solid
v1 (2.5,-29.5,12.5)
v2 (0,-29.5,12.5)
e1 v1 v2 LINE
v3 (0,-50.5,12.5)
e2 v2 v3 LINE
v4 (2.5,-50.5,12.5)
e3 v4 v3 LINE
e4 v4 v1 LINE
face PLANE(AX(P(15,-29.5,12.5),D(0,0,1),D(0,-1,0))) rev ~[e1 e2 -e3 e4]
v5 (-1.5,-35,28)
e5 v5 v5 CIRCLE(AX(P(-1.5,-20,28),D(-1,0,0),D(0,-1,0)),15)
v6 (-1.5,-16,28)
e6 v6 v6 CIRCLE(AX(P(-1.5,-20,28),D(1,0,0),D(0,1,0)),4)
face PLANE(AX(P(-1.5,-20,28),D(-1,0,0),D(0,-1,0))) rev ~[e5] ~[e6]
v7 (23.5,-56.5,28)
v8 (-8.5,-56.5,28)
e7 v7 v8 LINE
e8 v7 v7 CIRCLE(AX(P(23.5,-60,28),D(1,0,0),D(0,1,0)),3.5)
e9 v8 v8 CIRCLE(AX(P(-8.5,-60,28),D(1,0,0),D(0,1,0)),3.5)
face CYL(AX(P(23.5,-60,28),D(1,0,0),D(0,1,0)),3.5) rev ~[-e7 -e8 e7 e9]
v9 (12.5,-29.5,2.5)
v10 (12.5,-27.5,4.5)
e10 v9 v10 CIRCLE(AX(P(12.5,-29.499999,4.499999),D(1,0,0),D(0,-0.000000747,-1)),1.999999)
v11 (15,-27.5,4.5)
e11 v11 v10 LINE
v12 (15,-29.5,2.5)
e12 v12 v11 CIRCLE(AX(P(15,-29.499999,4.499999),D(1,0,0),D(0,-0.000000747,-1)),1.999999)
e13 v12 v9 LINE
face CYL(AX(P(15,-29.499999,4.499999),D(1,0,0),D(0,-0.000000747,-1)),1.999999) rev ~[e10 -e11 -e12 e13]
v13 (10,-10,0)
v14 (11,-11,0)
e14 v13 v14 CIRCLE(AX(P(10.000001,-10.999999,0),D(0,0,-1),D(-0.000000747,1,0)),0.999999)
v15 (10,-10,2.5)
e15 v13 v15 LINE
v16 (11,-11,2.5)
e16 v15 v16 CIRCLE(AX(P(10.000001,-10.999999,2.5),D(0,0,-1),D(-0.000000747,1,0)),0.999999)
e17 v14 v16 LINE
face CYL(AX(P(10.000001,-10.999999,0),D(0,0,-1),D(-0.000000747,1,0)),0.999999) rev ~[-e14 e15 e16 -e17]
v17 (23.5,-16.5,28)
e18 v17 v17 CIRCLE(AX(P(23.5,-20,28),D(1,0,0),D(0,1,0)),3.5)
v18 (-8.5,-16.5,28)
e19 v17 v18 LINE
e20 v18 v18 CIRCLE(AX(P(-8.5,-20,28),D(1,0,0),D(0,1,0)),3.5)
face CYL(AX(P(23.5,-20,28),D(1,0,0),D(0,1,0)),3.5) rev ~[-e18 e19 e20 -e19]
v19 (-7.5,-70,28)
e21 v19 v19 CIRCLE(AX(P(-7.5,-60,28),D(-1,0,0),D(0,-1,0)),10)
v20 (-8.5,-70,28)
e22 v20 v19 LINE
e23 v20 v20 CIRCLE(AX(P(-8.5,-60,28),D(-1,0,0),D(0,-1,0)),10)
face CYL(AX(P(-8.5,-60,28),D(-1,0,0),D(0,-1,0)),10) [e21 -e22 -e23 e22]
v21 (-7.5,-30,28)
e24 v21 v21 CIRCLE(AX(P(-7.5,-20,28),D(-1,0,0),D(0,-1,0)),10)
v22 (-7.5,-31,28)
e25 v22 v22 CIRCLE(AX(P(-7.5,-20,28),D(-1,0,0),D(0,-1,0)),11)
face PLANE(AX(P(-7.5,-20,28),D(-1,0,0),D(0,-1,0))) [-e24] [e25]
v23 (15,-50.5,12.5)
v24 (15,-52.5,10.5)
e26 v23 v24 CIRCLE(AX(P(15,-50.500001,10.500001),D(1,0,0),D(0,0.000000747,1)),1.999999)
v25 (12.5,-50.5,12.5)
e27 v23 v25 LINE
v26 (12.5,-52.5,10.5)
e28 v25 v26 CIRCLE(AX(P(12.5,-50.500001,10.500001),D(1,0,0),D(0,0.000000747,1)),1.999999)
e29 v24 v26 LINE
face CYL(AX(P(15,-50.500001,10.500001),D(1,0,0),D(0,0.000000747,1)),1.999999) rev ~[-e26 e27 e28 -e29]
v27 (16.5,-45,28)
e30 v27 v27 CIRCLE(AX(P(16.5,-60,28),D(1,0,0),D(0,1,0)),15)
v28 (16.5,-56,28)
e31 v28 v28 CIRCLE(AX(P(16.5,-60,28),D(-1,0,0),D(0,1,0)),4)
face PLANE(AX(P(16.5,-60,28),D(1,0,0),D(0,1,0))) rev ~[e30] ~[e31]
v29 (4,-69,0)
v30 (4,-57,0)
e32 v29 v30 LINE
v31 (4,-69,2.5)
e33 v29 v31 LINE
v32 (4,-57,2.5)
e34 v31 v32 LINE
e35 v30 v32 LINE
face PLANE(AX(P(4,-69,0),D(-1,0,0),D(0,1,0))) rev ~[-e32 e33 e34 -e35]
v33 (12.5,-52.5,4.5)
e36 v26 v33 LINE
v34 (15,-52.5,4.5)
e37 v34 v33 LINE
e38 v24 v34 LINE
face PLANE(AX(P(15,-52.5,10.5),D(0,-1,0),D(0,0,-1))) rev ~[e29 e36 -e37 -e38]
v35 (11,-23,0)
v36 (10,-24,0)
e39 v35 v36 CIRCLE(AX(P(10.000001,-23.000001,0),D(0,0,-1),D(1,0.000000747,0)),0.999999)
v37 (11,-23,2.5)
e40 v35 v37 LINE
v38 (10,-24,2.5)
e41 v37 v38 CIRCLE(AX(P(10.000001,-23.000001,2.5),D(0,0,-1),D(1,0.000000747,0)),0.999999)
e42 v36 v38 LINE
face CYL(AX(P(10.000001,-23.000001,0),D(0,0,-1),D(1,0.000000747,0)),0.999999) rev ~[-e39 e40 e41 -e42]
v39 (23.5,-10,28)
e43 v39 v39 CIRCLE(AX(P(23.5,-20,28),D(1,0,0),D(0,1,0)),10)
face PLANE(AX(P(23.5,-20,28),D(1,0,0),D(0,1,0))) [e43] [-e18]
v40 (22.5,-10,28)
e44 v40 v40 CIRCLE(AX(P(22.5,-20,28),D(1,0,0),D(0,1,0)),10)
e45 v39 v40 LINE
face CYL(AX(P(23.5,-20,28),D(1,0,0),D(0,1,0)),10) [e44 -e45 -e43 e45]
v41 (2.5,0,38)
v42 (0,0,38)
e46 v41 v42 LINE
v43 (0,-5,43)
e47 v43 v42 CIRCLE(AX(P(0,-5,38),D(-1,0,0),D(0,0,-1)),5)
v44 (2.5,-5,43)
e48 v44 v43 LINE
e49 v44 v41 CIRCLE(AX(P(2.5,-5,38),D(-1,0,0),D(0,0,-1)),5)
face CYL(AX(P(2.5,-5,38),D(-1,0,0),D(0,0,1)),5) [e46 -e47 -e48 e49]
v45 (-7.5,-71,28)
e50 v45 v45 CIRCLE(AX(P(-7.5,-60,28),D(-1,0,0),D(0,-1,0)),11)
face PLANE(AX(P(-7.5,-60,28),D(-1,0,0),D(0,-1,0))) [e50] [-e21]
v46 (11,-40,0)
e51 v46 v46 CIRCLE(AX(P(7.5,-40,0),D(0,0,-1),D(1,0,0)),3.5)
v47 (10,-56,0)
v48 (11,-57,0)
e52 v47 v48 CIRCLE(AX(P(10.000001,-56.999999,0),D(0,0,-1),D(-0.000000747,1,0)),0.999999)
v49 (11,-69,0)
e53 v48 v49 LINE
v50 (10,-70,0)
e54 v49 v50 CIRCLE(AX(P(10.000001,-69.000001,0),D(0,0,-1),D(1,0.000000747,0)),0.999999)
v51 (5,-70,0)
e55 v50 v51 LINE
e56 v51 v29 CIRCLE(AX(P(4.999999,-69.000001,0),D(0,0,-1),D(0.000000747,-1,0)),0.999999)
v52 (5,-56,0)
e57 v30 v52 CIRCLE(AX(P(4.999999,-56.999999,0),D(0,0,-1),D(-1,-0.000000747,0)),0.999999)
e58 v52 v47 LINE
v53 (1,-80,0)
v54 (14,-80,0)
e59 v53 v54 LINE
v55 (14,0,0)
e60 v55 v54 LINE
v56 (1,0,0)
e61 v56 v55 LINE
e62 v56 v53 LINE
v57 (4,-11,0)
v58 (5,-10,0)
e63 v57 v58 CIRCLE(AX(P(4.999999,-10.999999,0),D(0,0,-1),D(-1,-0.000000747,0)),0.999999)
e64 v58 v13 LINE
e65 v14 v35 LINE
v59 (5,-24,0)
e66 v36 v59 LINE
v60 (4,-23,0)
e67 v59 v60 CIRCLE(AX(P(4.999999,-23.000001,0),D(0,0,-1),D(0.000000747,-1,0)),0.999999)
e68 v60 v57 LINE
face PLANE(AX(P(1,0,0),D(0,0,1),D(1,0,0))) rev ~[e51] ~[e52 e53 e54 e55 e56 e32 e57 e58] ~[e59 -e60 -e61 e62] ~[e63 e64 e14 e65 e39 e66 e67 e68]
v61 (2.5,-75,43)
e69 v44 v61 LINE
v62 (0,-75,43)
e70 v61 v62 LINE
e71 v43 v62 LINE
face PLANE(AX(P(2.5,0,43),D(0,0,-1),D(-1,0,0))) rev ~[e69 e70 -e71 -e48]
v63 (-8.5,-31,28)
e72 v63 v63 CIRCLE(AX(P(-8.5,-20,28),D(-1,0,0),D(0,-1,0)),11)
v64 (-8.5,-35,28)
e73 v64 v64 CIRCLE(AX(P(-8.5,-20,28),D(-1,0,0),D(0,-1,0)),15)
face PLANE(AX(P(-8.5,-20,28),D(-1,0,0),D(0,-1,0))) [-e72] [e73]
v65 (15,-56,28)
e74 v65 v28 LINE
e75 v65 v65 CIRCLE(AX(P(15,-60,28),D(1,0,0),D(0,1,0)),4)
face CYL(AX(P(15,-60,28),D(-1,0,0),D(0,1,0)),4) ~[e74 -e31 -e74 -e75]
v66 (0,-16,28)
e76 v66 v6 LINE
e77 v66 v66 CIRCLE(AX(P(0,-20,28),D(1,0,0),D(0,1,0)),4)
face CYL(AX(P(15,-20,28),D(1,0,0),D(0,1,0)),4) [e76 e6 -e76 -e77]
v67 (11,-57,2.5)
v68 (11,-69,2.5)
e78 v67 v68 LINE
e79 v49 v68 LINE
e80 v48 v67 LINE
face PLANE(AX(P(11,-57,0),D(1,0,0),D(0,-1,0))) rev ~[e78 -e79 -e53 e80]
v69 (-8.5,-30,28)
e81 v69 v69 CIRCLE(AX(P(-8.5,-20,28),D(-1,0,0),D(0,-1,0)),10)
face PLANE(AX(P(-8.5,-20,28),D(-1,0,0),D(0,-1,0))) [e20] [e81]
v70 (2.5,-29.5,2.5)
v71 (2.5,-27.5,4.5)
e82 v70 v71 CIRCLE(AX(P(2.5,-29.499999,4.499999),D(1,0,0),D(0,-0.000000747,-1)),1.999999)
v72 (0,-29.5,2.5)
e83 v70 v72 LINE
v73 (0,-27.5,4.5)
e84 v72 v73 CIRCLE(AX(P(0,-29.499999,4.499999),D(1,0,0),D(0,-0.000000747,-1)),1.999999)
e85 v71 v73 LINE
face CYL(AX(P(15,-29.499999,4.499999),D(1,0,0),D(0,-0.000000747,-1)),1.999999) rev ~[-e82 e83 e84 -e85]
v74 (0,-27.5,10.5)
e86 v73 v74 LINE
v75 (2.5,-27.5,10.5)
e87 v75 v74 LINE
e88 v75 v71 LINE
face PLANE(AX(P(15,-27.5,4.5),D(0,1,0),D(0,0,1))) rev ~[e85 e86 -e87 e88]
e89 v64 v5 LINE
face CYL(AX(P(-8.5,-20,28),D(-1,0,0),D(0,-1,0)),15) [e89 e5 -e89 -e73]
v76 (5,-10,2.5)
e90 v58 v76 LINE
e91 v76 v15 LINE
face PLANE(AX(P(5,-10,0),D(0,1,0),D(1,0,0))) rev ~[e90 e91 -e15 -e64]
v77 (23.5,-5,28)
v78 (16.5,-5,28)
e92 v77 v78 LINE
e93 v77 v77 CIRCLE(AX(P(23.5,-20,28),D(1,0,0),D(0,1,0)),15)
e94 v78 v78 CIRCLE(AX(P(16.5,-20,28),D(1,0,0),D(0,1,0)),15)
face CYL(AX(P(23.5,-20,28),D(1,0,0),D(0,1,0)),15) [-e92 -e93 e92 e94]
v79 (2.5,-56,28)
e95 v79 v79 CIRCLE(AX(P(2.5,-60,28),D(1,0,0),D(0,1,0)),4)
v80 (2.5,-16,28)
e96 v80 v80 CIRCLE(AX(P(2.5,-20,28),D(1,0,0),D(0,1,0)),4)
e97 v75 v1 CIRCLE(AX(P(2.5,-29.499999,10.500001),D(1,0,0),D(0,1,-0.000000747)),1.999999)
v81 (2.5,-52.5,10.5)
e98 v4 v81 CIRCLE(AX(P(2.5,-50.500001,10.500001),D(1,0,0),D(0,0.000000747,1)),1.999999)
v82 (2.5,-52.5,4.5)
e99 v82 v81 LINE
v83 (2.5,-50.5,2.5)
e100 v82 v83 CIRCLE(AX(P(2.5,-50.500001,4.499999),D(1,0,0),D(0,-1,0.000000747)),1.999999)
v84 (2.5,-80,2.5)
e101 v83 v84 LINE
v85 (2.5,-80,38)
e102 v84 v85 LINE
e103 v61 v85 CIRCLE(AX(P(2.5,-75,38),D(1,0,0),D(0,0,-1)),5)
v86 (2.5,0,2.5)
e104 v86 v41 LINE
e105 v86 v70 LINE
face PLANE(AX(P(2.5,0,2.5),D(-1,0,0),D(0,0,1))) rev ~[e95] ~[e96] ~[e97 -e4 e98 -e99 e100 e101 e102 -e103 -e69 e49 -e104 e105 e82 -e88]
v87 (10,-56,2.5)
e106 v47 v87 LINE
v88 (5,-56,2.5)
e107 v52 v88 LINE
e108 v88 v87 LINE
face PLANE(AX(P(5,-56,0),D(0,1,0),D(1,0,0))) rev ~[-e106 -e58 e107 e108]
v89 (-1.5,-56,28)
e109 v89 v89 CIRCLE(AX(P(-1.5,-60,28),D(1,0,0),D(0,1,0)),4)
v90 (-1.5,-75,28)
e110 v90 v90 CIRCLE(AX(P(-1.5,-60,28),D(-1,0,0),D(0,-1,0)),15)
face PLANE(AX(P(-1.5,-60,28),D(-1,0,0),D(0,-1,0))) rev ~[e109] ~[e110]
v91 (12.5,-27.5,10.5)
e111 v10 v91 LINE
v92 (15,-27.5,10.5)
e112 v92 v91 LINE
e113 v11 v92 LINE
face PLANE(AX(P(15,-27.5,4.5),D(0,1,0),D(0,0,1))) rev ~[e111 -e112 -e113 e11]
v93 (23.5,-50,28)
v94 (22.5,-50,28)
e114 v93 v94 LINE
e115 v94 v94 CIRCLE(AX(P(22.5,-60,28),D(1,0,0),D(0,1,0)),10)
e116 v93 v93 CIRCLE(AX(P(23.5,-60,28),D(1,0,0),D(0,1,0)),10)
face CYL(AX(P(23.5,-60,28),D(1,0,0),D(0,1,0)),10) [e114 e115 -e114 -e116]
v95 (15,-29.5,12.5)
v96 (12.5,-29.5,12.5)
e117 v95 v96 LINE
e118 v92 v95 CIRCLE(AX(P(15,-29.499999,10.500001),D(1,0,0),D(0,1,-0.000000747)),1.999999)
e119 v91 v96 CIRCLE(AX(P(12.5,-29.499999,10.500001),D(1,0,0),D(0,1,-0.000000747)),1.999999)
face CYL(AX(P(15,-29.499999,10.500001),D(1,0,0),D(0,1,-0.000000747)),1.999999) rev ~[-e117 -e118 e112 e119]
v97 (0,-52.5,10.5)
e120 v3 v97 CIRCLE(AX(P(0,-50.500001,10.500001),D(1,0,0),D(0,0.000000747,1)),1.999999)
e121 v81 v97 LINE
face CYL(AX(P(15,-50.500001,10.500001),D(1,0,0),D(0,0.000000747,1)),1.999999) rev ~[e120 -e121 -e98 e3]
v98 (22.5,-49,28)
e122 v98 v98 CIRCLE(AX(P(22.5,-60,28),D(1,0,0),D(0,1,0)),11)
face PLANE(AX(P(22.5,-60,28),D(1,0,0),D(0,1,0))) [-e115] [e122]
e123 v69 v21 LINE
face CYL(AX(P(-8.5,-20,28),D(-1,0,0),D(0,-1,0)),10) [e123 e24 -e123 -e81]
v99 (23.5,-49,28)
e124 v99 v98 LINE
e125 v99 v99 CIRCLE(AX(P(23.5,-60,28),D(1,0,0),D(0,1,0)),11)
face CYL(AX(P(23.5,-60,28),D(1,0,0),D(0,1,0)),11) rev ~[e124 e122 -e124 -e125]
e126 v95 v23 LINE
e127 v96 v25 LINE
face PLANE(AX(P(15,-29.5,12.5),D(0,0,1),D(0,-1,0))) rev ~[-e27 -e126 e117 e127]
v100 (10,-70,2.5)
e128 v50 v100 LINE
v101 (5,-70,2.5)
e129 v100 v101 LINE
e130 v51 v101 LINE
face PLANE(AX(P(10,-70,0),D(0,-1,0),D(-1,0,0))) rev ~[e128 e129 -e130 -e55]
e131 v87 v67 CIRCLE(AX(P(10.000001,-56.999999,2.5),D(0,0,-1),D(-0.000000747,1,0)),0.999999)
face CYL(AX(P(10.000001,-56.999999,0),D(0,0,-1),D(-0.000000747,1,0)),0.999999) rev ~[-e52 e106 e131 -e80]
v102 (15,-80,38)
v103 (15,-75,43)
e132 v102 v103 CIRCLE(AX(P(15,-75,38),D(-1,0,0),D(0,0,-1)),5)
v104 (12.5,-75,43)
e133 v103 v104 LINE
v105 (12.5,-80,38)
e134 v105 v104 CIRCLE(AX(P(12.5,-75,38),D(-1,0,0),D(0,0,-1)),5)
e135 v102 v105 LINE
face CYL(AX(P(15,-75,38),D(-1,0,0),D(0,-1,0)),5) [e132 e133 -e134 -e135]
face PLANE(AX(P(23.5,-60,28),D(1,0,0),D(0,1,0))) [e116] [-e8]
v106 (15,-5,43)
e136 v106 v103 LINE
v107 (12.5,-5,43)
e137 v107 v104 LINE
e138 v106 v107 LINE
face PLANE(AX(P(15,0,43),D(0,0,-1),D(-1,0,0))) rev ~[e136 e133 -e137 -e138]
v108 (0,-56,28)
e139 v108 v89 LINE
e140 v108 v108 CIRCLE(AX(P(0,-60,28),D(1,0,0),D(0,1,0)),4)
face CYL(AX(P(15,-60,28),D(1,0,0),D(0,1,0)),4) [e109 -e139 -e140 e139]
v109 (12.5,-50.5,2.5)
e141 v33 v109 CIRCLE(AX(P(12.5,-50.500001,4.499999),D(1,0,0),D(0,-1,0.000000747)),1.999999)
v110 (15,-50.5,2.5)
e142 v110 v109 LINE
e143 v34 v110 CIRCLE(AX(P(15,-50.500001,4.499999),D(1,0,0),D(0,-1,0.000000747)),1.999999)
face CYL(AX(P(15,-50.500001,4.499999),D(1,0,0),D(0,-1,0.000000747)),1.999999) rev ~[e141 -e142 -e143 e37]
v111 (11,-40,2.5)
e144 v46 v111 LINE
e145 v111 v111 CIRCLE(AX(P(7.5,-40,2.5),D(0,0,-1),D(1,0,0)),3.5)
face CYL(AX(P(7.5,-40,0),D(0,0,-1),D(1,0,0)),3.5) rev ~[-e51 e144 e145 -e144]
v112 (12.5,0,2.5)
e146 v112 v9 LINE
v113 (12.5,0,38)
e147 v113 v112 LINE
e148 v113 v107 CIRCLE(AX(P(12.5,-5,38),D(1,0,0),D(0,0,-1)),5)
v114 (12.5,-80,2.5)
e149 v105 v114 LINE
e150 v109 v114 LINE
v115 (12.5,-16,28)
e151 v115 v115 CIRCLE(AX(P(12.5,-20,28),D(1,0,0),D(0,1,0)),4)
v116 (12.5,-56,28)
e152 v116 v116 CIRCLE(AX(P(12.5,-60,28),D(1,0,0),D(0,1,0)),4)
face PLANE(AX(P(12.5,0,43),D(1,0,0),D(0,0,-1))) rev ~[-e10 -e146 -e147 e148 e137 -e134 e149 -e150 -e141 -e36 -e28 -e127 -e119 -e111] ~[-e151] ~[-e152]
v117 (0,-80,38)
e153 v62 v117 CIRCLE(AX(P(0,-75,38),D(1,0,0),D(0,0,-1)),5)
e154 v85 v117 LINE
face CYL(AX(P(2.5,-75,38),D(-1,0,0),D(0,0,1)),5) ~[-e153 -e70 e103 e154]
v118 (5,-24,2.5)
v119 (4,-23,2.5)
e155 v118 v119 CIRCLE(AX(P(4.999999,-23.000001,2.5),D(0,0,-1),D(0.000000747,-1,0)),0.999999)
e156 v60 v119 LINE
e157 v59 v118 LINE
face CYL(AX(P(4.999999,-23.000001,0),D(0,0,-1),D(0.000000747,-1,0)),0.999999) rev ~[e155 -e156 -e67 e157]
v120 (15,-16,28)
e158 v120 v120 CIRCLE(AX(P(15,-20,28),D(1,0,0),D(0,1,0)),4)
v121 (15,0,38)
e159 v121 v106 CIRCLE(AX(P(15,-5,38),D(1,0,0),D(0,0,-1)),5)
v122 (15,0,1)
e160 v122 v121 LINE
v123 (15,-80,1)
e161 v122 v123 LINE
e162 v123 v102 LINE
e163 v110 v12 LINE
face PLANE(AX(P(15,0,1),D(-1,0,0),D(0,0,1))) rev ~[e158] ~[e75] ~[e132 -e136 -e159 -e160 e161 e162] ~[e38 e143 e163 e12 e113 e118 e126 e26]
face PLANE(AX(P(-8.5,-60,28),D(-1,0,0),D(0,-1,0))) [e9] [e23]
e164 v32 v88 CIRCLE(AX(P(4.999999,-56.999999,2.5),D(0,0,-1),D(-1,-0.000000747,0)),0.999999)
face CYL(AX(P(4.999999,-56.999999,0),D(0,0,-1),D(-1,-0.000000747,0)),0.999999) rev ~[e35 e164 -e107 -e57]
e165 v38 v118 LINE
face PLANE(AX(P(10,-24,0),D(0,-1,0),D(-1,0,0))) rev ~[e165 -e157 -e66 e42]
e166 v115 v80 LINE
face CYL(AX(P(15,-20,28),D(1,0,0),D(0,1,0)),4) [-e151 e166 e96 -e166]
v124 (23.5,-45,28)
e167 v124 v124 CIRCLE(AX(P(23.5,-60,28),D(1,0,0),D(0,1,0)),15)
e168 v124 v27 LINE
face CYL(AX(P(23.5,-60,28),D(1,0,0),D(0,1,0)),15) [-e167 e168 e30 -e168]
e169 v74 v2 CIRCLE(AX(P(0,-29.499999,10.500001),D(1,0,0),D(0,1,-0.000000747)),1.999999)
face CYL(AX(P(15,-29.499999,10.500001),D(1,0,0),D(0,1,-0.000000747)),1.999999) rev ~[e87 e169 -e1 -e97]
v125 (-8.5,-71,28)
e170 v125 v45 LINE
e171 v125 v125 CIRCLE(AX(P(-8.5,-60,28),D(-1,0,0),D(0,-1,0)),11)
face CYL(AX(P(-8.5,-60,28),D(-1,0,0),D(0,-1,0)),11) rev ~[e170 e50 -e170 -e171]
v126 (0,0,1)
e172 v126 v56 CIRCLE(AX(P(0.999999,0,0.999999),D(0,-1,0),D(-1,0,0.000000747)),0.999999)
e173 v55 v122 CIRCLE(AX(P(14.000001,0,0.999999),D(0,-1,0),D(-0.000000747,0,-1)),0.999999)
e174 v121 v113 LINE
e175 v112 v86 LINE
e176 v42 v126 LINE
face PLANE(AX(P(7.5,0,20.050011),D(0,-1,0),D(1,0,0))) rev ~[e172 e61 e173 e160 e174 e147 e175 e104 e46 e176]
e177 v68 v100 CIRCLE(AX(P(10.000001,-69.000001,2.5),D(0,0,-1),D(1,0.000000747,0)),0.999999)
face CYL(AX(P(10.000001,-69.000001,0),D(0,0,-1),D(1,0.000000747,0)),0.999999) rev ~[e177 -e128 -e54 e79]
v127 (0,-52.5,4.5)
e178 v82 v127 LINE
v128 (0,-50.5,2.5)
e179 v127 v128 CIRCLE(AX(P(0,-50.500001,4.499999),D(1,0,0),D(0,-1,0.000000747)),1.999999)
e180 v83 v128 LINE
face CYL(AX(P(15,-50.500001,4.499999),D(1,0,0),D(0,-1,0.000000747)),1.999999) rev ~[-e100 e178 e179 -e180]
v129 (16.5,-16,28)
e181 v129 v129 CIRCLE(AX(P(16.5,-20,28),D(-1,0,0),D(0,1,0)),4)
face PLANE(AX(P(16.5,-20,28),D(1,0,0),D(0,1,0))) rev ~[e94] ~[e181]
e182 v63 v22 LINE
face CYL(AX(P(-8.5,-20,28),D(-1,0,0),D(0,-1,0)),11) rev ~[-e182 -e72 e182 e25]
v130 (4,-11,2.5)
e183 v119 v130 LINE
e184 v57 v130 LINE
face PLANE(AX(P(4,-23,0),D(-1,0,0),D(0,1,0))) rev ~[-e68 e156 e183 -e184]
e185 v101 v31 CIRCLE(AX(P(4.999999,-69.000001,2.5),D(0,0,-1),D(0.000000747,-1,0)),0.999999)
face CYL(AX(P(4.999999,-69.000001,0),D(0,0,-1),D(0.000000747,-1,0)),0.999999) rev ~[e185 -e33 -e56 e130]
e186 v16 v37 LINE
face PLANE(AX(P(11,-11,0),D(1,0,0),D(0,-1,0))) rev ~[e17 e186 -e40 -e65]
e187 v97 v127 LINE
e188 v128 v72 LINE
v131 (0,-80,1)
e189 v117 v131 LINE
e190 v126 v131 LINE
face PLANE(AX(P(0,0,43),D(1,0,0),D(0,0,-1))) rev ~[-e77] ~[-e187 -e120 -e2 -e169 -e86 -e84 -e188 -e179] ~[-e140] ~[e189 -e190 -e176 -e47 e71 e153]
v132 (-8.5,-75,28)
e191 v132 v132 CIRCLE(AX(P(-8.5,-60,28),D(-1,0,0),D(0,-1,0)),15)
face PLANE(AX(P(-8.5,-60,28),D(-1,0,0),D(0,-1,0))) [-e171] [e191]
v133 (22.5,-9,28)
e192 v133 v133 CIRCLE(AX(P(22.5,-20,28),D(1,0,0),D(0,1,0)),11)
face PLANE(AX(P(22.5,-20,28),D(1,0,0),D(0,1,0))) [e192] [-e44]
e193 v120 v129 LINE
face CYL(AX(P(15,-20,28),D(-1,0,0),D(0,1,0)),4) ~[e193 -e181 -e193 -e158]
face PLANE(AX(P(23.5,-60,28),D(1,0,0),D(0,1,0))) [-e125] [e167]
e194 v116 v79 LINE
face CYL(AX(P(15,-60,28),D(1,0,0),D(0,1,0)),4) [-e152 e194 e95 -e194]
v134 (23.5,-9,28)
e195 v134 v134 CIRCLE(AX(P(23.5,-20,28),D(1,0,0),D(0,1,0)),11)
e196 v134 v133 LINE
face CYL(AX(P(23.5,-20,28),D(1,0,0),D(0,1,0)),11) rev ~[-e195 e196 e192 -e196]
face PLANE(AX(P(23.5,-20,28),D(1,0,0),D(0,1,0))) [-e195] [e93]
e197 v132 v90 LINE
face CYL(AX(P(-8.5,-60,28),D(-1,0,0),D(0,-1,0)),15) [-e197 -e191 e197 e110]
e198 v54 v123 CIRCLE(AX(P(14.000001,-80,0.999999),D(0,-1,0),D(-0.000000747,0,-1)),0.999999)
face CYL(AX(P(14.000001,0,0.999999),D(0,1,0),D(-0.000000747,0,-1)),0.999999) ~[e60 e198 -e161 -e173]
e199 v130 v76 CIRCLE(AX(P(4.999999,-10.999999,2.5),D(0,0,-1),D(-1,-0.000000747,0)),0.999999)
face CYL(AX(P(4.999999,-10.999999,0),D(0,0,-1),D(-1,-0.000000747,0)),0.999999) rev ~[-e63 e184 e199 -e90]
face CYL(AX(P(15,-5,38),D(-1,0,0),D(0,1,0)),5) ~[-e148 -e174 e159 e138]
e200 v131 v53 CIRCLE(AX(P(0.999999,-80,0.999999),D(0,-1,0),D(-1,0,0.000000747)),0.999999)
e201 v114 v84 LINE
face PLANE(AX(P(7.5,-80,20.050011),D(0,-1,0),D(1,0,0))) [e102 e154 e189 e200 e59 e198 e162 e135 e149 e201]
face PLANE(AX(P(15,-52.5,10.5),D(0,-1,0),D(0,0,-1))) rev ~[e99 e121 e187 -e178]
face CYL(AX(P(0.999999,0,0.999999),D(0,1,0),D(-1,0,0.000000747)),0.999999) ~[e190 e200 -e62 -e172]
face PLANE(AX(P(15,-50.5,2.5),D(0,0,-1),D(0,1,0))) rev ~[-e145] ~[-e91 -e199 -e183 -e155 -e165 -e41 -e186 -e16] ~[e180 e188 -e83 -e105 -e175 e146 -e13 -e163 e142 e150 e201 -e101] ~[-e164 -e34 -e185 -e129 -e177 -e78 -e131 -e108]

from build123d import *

# Parameters (mm, degrees)
F1_DEPTH  = 80
F2_R      = 4
F3_DEPTH  = 8.5
F4_DEPTH  = 23.5
F5_R      = 15
F6_DEPTH  = 7
F7_R      = 15
F8_DEPTH  = 7
F9_R      = 5
F10_R     = 3.5
F11_DEPTH = 25
F13_DEPTH = 23.501
F15_DEPTH = 3
F16_R     = 11
F16_R_2   = 10
F17_DEPTH = 1
F18_R     = 11
F18_R_2   = 10
F19_DEPTH = 1
F20_R     = 3.5
F21_DEPTH = 32.001


with BuildPart() as f1:
    # F0 (on Front) → F1 (new body)
    with BuildSketch(Plane.XZ):
        with BuildLine():
            Line((0, 43), (0, 1))
            ThreePointArc((0, 1), (0.292893, 0.292893), (1, 0))
            Line((1, 0), (14, 0))
            ThreePointArc((14, 0), (14.707107, 0.292893), (15, 1))
            Line((15, 1), (15, 43))
            Line((15, 43), (12.5, 43))
            Line((12.5, 43), (12.5, 2.5))
            Line((12.5, 2.5), (2.5, 2.5))
            Line((2.5, 2.5), (2.5, 43))
            Line((2.5, 43), (0, 43))
        make_face()
    extrude(amount=F1_DEPTH)

    # F2 (on face) → F3 (join)
    with BuildSketch(Plane.YZ.offset(15)):
        with Locations((-60, 28)):
            Circle(F2_R)
        with Locations((-20, 28)):
            Circle(F2_R)
    extrude(amount=F3_DEPTH)

    # F2 (on face) → F4 (join)
    with BuildSketch(Plane.YZ.offset(15)):
        with Locations((-60, 28)):
            Circle(F2_R)
        with Locations((-20, 28)):
            Circle(F2_R)
    extrude(amount=-F4_DEPTH)

    # F5 (on face) → F6 (join)
    with BuildSketch(Plane.YZ.offset(23.5)):
        with Locations((-20, 28)):
            Circle(F5_R)
        with Locations((-60, 28)):
            Circle(F5_R)
    extrude(amount=-F6_DEPTH)

    # F7 (on face) → F8 (join)
    with BuildSketch(Plane(origin=(-8.5, 0, 0), x_dir=(0, -1, 0), z_dir=(-1, 0, 0))):
        with Locations((20, 28)):
            Circle(F7_R)
        with Locations((60, 28)):
            Circle(F7_R)
    extrude(amount=-F8_DEPTH)

    # F9
    f9_edges = [f1.edges().sort_by_distance(p)[0] for p in [
        (1.25, -80, 43),
        (13.75, -80, 43),
        (1.25, 0, 43),
        (13.75, 0, 43),
    ]]
    fillet(f9_edges, radius=F9_R)

    # F10 (on face) → F11 (cut)
    with BuildSketch(Plane(origin=(0, 0, 0), x_dir=(1, 0, 0), z_dir=(0, 0, -1))):
        with Locations((7.5, 40)):
            Circle(F10_R)
    extrude(amount=-F11_DEPTH, mode=Mode.SUBTRACT)

    # F12 (on face) → F13 (cut, through all)
    with BuildSketch(Plane.YZ.offset(15)):
        with BuildLine():
            ThreePointArc((-29.5, 2.5), (-28.085786, 3.085786), (-27.5, 4.5))
            Line((-27.5, 4.5), (-27.5, 10.5))
            ThreePointArc((-27.5, 10.5), (-28.085786, 11.914214), (-29.5, 12.5))
            Line((-29.5, 12.5), (-50.5, 12.5))
            ThreePointArc((-50.5, 12.5), (-51.914214, 11.914214), (-52.5, 10.5))
            Line((-52.5, 10.5), (-52.5, 4.5))
            ThreePointArc((-52.5, 4.5), (-51.914214, 3.085786), (-50.5, 2.5))
            Line((-50.5, 2.5), (-29.5, 2.5))
        make_face()
    extrude(amount=-F13_DEPTH, mode=Mode.SUBTRACT)

    # F14 (on face) → F15 (cut)
    with BuildSketch(Plane(origin=(0, 0, 0), x_dir=(1, 0, 0), z_dir=(0, 0, -1))):
        with BuildLine():
            Line((10, 70), (7.5, 70))
            Line((7.5, 70), (5, 70))
            ThreePointArc((5, 70), (4.292893, 69.707107), (4, 69))
            Line((4, 69), (4, 57))
            ThreePointArc((4, 57), (4.292893, 56.292893), (5, 56))
            Line((5, 56), (10, 56))
            ThreePointArc((10, 56), (10.707107, 56.292893), (11, 57))
            Line((11, 57), (11, 69))
            ThreePointArc((11, 69), (10.707107, 69.707107), (10, 70))
        make_face()
        with BuildLine():
            ThreePointArc((10, 10), (10.707107, 10.292893), (11, 11))
            Line((11, 11), (11, 23))
            ThreePointArc((11, 23), (10.707107, 23.707107), (10, 24))
            Line((10, 24), (5, 24))
            ThreePointArc((5, 24), (4.292893, 23.707107), (4, 23))
            Line((4, 23), (4, 11))
            ThreePointArc((4, 11), (4.292893, 10.292893), (5, 10))
            Line((5, 10), (7.5, 10))
            Line((7.5, 10), (10, 10))
        make_face()
    extrude(amount=-F15_DEPTH, mode=Mode.SUBTRACT)

    # F16 (on face) → F17 (cut)
    with BuildSketch(Plane(origin=(-8.5, 0, 0), x_dir=(0, -1, 0), z_dir=(-1, 0, 0))):
        with Locations((20, 28)):
            Circle(F16_R)
        with Locations((20, 28)):
            Circle(F16_R_2, mode=Mode.SUBTRACT)
        with Locations((60, 28)):
            Circle(F16_R)
        with Locations((60, 28)):
            Circle(F16_R_2, mode=Mode.SUBTRACT)
    extrude(amount=-F17_DEPTH, mode=Mode.SUBTRACT)

    # F18 (on face) → F19 (cut)
    with BuildSketch(Plane.YZ.offset(23.5)):
        with Locations((-60, 28)):
            Circle(F18_R)
        with Locations((-60, 28)):
            Circle(F18_R_2, mode=Mode.SUBTRACT)
        with Locations((-20, 28)):
            Circle(F18_R)
        with Locations((-20, 28)):
            Circle(F18_R_2, mode=Mode.SUBTRACT)
    extrude(amount=-F19_DEPTH, mode=Mode.SUBTRACT)

    # F20 (on face) → F21 (cut, through all)
    with BuildSketch(Plane.YZ.offset(23.5)):
        with Locations((-20, 28)):
            Circle(F20_R)
        with Locations((-60, 28)):
            Circle(F20_R)
    extrude(amount=-F21_DEPTH, mode=Mode.SUBTRACT)


solid = f1.part
